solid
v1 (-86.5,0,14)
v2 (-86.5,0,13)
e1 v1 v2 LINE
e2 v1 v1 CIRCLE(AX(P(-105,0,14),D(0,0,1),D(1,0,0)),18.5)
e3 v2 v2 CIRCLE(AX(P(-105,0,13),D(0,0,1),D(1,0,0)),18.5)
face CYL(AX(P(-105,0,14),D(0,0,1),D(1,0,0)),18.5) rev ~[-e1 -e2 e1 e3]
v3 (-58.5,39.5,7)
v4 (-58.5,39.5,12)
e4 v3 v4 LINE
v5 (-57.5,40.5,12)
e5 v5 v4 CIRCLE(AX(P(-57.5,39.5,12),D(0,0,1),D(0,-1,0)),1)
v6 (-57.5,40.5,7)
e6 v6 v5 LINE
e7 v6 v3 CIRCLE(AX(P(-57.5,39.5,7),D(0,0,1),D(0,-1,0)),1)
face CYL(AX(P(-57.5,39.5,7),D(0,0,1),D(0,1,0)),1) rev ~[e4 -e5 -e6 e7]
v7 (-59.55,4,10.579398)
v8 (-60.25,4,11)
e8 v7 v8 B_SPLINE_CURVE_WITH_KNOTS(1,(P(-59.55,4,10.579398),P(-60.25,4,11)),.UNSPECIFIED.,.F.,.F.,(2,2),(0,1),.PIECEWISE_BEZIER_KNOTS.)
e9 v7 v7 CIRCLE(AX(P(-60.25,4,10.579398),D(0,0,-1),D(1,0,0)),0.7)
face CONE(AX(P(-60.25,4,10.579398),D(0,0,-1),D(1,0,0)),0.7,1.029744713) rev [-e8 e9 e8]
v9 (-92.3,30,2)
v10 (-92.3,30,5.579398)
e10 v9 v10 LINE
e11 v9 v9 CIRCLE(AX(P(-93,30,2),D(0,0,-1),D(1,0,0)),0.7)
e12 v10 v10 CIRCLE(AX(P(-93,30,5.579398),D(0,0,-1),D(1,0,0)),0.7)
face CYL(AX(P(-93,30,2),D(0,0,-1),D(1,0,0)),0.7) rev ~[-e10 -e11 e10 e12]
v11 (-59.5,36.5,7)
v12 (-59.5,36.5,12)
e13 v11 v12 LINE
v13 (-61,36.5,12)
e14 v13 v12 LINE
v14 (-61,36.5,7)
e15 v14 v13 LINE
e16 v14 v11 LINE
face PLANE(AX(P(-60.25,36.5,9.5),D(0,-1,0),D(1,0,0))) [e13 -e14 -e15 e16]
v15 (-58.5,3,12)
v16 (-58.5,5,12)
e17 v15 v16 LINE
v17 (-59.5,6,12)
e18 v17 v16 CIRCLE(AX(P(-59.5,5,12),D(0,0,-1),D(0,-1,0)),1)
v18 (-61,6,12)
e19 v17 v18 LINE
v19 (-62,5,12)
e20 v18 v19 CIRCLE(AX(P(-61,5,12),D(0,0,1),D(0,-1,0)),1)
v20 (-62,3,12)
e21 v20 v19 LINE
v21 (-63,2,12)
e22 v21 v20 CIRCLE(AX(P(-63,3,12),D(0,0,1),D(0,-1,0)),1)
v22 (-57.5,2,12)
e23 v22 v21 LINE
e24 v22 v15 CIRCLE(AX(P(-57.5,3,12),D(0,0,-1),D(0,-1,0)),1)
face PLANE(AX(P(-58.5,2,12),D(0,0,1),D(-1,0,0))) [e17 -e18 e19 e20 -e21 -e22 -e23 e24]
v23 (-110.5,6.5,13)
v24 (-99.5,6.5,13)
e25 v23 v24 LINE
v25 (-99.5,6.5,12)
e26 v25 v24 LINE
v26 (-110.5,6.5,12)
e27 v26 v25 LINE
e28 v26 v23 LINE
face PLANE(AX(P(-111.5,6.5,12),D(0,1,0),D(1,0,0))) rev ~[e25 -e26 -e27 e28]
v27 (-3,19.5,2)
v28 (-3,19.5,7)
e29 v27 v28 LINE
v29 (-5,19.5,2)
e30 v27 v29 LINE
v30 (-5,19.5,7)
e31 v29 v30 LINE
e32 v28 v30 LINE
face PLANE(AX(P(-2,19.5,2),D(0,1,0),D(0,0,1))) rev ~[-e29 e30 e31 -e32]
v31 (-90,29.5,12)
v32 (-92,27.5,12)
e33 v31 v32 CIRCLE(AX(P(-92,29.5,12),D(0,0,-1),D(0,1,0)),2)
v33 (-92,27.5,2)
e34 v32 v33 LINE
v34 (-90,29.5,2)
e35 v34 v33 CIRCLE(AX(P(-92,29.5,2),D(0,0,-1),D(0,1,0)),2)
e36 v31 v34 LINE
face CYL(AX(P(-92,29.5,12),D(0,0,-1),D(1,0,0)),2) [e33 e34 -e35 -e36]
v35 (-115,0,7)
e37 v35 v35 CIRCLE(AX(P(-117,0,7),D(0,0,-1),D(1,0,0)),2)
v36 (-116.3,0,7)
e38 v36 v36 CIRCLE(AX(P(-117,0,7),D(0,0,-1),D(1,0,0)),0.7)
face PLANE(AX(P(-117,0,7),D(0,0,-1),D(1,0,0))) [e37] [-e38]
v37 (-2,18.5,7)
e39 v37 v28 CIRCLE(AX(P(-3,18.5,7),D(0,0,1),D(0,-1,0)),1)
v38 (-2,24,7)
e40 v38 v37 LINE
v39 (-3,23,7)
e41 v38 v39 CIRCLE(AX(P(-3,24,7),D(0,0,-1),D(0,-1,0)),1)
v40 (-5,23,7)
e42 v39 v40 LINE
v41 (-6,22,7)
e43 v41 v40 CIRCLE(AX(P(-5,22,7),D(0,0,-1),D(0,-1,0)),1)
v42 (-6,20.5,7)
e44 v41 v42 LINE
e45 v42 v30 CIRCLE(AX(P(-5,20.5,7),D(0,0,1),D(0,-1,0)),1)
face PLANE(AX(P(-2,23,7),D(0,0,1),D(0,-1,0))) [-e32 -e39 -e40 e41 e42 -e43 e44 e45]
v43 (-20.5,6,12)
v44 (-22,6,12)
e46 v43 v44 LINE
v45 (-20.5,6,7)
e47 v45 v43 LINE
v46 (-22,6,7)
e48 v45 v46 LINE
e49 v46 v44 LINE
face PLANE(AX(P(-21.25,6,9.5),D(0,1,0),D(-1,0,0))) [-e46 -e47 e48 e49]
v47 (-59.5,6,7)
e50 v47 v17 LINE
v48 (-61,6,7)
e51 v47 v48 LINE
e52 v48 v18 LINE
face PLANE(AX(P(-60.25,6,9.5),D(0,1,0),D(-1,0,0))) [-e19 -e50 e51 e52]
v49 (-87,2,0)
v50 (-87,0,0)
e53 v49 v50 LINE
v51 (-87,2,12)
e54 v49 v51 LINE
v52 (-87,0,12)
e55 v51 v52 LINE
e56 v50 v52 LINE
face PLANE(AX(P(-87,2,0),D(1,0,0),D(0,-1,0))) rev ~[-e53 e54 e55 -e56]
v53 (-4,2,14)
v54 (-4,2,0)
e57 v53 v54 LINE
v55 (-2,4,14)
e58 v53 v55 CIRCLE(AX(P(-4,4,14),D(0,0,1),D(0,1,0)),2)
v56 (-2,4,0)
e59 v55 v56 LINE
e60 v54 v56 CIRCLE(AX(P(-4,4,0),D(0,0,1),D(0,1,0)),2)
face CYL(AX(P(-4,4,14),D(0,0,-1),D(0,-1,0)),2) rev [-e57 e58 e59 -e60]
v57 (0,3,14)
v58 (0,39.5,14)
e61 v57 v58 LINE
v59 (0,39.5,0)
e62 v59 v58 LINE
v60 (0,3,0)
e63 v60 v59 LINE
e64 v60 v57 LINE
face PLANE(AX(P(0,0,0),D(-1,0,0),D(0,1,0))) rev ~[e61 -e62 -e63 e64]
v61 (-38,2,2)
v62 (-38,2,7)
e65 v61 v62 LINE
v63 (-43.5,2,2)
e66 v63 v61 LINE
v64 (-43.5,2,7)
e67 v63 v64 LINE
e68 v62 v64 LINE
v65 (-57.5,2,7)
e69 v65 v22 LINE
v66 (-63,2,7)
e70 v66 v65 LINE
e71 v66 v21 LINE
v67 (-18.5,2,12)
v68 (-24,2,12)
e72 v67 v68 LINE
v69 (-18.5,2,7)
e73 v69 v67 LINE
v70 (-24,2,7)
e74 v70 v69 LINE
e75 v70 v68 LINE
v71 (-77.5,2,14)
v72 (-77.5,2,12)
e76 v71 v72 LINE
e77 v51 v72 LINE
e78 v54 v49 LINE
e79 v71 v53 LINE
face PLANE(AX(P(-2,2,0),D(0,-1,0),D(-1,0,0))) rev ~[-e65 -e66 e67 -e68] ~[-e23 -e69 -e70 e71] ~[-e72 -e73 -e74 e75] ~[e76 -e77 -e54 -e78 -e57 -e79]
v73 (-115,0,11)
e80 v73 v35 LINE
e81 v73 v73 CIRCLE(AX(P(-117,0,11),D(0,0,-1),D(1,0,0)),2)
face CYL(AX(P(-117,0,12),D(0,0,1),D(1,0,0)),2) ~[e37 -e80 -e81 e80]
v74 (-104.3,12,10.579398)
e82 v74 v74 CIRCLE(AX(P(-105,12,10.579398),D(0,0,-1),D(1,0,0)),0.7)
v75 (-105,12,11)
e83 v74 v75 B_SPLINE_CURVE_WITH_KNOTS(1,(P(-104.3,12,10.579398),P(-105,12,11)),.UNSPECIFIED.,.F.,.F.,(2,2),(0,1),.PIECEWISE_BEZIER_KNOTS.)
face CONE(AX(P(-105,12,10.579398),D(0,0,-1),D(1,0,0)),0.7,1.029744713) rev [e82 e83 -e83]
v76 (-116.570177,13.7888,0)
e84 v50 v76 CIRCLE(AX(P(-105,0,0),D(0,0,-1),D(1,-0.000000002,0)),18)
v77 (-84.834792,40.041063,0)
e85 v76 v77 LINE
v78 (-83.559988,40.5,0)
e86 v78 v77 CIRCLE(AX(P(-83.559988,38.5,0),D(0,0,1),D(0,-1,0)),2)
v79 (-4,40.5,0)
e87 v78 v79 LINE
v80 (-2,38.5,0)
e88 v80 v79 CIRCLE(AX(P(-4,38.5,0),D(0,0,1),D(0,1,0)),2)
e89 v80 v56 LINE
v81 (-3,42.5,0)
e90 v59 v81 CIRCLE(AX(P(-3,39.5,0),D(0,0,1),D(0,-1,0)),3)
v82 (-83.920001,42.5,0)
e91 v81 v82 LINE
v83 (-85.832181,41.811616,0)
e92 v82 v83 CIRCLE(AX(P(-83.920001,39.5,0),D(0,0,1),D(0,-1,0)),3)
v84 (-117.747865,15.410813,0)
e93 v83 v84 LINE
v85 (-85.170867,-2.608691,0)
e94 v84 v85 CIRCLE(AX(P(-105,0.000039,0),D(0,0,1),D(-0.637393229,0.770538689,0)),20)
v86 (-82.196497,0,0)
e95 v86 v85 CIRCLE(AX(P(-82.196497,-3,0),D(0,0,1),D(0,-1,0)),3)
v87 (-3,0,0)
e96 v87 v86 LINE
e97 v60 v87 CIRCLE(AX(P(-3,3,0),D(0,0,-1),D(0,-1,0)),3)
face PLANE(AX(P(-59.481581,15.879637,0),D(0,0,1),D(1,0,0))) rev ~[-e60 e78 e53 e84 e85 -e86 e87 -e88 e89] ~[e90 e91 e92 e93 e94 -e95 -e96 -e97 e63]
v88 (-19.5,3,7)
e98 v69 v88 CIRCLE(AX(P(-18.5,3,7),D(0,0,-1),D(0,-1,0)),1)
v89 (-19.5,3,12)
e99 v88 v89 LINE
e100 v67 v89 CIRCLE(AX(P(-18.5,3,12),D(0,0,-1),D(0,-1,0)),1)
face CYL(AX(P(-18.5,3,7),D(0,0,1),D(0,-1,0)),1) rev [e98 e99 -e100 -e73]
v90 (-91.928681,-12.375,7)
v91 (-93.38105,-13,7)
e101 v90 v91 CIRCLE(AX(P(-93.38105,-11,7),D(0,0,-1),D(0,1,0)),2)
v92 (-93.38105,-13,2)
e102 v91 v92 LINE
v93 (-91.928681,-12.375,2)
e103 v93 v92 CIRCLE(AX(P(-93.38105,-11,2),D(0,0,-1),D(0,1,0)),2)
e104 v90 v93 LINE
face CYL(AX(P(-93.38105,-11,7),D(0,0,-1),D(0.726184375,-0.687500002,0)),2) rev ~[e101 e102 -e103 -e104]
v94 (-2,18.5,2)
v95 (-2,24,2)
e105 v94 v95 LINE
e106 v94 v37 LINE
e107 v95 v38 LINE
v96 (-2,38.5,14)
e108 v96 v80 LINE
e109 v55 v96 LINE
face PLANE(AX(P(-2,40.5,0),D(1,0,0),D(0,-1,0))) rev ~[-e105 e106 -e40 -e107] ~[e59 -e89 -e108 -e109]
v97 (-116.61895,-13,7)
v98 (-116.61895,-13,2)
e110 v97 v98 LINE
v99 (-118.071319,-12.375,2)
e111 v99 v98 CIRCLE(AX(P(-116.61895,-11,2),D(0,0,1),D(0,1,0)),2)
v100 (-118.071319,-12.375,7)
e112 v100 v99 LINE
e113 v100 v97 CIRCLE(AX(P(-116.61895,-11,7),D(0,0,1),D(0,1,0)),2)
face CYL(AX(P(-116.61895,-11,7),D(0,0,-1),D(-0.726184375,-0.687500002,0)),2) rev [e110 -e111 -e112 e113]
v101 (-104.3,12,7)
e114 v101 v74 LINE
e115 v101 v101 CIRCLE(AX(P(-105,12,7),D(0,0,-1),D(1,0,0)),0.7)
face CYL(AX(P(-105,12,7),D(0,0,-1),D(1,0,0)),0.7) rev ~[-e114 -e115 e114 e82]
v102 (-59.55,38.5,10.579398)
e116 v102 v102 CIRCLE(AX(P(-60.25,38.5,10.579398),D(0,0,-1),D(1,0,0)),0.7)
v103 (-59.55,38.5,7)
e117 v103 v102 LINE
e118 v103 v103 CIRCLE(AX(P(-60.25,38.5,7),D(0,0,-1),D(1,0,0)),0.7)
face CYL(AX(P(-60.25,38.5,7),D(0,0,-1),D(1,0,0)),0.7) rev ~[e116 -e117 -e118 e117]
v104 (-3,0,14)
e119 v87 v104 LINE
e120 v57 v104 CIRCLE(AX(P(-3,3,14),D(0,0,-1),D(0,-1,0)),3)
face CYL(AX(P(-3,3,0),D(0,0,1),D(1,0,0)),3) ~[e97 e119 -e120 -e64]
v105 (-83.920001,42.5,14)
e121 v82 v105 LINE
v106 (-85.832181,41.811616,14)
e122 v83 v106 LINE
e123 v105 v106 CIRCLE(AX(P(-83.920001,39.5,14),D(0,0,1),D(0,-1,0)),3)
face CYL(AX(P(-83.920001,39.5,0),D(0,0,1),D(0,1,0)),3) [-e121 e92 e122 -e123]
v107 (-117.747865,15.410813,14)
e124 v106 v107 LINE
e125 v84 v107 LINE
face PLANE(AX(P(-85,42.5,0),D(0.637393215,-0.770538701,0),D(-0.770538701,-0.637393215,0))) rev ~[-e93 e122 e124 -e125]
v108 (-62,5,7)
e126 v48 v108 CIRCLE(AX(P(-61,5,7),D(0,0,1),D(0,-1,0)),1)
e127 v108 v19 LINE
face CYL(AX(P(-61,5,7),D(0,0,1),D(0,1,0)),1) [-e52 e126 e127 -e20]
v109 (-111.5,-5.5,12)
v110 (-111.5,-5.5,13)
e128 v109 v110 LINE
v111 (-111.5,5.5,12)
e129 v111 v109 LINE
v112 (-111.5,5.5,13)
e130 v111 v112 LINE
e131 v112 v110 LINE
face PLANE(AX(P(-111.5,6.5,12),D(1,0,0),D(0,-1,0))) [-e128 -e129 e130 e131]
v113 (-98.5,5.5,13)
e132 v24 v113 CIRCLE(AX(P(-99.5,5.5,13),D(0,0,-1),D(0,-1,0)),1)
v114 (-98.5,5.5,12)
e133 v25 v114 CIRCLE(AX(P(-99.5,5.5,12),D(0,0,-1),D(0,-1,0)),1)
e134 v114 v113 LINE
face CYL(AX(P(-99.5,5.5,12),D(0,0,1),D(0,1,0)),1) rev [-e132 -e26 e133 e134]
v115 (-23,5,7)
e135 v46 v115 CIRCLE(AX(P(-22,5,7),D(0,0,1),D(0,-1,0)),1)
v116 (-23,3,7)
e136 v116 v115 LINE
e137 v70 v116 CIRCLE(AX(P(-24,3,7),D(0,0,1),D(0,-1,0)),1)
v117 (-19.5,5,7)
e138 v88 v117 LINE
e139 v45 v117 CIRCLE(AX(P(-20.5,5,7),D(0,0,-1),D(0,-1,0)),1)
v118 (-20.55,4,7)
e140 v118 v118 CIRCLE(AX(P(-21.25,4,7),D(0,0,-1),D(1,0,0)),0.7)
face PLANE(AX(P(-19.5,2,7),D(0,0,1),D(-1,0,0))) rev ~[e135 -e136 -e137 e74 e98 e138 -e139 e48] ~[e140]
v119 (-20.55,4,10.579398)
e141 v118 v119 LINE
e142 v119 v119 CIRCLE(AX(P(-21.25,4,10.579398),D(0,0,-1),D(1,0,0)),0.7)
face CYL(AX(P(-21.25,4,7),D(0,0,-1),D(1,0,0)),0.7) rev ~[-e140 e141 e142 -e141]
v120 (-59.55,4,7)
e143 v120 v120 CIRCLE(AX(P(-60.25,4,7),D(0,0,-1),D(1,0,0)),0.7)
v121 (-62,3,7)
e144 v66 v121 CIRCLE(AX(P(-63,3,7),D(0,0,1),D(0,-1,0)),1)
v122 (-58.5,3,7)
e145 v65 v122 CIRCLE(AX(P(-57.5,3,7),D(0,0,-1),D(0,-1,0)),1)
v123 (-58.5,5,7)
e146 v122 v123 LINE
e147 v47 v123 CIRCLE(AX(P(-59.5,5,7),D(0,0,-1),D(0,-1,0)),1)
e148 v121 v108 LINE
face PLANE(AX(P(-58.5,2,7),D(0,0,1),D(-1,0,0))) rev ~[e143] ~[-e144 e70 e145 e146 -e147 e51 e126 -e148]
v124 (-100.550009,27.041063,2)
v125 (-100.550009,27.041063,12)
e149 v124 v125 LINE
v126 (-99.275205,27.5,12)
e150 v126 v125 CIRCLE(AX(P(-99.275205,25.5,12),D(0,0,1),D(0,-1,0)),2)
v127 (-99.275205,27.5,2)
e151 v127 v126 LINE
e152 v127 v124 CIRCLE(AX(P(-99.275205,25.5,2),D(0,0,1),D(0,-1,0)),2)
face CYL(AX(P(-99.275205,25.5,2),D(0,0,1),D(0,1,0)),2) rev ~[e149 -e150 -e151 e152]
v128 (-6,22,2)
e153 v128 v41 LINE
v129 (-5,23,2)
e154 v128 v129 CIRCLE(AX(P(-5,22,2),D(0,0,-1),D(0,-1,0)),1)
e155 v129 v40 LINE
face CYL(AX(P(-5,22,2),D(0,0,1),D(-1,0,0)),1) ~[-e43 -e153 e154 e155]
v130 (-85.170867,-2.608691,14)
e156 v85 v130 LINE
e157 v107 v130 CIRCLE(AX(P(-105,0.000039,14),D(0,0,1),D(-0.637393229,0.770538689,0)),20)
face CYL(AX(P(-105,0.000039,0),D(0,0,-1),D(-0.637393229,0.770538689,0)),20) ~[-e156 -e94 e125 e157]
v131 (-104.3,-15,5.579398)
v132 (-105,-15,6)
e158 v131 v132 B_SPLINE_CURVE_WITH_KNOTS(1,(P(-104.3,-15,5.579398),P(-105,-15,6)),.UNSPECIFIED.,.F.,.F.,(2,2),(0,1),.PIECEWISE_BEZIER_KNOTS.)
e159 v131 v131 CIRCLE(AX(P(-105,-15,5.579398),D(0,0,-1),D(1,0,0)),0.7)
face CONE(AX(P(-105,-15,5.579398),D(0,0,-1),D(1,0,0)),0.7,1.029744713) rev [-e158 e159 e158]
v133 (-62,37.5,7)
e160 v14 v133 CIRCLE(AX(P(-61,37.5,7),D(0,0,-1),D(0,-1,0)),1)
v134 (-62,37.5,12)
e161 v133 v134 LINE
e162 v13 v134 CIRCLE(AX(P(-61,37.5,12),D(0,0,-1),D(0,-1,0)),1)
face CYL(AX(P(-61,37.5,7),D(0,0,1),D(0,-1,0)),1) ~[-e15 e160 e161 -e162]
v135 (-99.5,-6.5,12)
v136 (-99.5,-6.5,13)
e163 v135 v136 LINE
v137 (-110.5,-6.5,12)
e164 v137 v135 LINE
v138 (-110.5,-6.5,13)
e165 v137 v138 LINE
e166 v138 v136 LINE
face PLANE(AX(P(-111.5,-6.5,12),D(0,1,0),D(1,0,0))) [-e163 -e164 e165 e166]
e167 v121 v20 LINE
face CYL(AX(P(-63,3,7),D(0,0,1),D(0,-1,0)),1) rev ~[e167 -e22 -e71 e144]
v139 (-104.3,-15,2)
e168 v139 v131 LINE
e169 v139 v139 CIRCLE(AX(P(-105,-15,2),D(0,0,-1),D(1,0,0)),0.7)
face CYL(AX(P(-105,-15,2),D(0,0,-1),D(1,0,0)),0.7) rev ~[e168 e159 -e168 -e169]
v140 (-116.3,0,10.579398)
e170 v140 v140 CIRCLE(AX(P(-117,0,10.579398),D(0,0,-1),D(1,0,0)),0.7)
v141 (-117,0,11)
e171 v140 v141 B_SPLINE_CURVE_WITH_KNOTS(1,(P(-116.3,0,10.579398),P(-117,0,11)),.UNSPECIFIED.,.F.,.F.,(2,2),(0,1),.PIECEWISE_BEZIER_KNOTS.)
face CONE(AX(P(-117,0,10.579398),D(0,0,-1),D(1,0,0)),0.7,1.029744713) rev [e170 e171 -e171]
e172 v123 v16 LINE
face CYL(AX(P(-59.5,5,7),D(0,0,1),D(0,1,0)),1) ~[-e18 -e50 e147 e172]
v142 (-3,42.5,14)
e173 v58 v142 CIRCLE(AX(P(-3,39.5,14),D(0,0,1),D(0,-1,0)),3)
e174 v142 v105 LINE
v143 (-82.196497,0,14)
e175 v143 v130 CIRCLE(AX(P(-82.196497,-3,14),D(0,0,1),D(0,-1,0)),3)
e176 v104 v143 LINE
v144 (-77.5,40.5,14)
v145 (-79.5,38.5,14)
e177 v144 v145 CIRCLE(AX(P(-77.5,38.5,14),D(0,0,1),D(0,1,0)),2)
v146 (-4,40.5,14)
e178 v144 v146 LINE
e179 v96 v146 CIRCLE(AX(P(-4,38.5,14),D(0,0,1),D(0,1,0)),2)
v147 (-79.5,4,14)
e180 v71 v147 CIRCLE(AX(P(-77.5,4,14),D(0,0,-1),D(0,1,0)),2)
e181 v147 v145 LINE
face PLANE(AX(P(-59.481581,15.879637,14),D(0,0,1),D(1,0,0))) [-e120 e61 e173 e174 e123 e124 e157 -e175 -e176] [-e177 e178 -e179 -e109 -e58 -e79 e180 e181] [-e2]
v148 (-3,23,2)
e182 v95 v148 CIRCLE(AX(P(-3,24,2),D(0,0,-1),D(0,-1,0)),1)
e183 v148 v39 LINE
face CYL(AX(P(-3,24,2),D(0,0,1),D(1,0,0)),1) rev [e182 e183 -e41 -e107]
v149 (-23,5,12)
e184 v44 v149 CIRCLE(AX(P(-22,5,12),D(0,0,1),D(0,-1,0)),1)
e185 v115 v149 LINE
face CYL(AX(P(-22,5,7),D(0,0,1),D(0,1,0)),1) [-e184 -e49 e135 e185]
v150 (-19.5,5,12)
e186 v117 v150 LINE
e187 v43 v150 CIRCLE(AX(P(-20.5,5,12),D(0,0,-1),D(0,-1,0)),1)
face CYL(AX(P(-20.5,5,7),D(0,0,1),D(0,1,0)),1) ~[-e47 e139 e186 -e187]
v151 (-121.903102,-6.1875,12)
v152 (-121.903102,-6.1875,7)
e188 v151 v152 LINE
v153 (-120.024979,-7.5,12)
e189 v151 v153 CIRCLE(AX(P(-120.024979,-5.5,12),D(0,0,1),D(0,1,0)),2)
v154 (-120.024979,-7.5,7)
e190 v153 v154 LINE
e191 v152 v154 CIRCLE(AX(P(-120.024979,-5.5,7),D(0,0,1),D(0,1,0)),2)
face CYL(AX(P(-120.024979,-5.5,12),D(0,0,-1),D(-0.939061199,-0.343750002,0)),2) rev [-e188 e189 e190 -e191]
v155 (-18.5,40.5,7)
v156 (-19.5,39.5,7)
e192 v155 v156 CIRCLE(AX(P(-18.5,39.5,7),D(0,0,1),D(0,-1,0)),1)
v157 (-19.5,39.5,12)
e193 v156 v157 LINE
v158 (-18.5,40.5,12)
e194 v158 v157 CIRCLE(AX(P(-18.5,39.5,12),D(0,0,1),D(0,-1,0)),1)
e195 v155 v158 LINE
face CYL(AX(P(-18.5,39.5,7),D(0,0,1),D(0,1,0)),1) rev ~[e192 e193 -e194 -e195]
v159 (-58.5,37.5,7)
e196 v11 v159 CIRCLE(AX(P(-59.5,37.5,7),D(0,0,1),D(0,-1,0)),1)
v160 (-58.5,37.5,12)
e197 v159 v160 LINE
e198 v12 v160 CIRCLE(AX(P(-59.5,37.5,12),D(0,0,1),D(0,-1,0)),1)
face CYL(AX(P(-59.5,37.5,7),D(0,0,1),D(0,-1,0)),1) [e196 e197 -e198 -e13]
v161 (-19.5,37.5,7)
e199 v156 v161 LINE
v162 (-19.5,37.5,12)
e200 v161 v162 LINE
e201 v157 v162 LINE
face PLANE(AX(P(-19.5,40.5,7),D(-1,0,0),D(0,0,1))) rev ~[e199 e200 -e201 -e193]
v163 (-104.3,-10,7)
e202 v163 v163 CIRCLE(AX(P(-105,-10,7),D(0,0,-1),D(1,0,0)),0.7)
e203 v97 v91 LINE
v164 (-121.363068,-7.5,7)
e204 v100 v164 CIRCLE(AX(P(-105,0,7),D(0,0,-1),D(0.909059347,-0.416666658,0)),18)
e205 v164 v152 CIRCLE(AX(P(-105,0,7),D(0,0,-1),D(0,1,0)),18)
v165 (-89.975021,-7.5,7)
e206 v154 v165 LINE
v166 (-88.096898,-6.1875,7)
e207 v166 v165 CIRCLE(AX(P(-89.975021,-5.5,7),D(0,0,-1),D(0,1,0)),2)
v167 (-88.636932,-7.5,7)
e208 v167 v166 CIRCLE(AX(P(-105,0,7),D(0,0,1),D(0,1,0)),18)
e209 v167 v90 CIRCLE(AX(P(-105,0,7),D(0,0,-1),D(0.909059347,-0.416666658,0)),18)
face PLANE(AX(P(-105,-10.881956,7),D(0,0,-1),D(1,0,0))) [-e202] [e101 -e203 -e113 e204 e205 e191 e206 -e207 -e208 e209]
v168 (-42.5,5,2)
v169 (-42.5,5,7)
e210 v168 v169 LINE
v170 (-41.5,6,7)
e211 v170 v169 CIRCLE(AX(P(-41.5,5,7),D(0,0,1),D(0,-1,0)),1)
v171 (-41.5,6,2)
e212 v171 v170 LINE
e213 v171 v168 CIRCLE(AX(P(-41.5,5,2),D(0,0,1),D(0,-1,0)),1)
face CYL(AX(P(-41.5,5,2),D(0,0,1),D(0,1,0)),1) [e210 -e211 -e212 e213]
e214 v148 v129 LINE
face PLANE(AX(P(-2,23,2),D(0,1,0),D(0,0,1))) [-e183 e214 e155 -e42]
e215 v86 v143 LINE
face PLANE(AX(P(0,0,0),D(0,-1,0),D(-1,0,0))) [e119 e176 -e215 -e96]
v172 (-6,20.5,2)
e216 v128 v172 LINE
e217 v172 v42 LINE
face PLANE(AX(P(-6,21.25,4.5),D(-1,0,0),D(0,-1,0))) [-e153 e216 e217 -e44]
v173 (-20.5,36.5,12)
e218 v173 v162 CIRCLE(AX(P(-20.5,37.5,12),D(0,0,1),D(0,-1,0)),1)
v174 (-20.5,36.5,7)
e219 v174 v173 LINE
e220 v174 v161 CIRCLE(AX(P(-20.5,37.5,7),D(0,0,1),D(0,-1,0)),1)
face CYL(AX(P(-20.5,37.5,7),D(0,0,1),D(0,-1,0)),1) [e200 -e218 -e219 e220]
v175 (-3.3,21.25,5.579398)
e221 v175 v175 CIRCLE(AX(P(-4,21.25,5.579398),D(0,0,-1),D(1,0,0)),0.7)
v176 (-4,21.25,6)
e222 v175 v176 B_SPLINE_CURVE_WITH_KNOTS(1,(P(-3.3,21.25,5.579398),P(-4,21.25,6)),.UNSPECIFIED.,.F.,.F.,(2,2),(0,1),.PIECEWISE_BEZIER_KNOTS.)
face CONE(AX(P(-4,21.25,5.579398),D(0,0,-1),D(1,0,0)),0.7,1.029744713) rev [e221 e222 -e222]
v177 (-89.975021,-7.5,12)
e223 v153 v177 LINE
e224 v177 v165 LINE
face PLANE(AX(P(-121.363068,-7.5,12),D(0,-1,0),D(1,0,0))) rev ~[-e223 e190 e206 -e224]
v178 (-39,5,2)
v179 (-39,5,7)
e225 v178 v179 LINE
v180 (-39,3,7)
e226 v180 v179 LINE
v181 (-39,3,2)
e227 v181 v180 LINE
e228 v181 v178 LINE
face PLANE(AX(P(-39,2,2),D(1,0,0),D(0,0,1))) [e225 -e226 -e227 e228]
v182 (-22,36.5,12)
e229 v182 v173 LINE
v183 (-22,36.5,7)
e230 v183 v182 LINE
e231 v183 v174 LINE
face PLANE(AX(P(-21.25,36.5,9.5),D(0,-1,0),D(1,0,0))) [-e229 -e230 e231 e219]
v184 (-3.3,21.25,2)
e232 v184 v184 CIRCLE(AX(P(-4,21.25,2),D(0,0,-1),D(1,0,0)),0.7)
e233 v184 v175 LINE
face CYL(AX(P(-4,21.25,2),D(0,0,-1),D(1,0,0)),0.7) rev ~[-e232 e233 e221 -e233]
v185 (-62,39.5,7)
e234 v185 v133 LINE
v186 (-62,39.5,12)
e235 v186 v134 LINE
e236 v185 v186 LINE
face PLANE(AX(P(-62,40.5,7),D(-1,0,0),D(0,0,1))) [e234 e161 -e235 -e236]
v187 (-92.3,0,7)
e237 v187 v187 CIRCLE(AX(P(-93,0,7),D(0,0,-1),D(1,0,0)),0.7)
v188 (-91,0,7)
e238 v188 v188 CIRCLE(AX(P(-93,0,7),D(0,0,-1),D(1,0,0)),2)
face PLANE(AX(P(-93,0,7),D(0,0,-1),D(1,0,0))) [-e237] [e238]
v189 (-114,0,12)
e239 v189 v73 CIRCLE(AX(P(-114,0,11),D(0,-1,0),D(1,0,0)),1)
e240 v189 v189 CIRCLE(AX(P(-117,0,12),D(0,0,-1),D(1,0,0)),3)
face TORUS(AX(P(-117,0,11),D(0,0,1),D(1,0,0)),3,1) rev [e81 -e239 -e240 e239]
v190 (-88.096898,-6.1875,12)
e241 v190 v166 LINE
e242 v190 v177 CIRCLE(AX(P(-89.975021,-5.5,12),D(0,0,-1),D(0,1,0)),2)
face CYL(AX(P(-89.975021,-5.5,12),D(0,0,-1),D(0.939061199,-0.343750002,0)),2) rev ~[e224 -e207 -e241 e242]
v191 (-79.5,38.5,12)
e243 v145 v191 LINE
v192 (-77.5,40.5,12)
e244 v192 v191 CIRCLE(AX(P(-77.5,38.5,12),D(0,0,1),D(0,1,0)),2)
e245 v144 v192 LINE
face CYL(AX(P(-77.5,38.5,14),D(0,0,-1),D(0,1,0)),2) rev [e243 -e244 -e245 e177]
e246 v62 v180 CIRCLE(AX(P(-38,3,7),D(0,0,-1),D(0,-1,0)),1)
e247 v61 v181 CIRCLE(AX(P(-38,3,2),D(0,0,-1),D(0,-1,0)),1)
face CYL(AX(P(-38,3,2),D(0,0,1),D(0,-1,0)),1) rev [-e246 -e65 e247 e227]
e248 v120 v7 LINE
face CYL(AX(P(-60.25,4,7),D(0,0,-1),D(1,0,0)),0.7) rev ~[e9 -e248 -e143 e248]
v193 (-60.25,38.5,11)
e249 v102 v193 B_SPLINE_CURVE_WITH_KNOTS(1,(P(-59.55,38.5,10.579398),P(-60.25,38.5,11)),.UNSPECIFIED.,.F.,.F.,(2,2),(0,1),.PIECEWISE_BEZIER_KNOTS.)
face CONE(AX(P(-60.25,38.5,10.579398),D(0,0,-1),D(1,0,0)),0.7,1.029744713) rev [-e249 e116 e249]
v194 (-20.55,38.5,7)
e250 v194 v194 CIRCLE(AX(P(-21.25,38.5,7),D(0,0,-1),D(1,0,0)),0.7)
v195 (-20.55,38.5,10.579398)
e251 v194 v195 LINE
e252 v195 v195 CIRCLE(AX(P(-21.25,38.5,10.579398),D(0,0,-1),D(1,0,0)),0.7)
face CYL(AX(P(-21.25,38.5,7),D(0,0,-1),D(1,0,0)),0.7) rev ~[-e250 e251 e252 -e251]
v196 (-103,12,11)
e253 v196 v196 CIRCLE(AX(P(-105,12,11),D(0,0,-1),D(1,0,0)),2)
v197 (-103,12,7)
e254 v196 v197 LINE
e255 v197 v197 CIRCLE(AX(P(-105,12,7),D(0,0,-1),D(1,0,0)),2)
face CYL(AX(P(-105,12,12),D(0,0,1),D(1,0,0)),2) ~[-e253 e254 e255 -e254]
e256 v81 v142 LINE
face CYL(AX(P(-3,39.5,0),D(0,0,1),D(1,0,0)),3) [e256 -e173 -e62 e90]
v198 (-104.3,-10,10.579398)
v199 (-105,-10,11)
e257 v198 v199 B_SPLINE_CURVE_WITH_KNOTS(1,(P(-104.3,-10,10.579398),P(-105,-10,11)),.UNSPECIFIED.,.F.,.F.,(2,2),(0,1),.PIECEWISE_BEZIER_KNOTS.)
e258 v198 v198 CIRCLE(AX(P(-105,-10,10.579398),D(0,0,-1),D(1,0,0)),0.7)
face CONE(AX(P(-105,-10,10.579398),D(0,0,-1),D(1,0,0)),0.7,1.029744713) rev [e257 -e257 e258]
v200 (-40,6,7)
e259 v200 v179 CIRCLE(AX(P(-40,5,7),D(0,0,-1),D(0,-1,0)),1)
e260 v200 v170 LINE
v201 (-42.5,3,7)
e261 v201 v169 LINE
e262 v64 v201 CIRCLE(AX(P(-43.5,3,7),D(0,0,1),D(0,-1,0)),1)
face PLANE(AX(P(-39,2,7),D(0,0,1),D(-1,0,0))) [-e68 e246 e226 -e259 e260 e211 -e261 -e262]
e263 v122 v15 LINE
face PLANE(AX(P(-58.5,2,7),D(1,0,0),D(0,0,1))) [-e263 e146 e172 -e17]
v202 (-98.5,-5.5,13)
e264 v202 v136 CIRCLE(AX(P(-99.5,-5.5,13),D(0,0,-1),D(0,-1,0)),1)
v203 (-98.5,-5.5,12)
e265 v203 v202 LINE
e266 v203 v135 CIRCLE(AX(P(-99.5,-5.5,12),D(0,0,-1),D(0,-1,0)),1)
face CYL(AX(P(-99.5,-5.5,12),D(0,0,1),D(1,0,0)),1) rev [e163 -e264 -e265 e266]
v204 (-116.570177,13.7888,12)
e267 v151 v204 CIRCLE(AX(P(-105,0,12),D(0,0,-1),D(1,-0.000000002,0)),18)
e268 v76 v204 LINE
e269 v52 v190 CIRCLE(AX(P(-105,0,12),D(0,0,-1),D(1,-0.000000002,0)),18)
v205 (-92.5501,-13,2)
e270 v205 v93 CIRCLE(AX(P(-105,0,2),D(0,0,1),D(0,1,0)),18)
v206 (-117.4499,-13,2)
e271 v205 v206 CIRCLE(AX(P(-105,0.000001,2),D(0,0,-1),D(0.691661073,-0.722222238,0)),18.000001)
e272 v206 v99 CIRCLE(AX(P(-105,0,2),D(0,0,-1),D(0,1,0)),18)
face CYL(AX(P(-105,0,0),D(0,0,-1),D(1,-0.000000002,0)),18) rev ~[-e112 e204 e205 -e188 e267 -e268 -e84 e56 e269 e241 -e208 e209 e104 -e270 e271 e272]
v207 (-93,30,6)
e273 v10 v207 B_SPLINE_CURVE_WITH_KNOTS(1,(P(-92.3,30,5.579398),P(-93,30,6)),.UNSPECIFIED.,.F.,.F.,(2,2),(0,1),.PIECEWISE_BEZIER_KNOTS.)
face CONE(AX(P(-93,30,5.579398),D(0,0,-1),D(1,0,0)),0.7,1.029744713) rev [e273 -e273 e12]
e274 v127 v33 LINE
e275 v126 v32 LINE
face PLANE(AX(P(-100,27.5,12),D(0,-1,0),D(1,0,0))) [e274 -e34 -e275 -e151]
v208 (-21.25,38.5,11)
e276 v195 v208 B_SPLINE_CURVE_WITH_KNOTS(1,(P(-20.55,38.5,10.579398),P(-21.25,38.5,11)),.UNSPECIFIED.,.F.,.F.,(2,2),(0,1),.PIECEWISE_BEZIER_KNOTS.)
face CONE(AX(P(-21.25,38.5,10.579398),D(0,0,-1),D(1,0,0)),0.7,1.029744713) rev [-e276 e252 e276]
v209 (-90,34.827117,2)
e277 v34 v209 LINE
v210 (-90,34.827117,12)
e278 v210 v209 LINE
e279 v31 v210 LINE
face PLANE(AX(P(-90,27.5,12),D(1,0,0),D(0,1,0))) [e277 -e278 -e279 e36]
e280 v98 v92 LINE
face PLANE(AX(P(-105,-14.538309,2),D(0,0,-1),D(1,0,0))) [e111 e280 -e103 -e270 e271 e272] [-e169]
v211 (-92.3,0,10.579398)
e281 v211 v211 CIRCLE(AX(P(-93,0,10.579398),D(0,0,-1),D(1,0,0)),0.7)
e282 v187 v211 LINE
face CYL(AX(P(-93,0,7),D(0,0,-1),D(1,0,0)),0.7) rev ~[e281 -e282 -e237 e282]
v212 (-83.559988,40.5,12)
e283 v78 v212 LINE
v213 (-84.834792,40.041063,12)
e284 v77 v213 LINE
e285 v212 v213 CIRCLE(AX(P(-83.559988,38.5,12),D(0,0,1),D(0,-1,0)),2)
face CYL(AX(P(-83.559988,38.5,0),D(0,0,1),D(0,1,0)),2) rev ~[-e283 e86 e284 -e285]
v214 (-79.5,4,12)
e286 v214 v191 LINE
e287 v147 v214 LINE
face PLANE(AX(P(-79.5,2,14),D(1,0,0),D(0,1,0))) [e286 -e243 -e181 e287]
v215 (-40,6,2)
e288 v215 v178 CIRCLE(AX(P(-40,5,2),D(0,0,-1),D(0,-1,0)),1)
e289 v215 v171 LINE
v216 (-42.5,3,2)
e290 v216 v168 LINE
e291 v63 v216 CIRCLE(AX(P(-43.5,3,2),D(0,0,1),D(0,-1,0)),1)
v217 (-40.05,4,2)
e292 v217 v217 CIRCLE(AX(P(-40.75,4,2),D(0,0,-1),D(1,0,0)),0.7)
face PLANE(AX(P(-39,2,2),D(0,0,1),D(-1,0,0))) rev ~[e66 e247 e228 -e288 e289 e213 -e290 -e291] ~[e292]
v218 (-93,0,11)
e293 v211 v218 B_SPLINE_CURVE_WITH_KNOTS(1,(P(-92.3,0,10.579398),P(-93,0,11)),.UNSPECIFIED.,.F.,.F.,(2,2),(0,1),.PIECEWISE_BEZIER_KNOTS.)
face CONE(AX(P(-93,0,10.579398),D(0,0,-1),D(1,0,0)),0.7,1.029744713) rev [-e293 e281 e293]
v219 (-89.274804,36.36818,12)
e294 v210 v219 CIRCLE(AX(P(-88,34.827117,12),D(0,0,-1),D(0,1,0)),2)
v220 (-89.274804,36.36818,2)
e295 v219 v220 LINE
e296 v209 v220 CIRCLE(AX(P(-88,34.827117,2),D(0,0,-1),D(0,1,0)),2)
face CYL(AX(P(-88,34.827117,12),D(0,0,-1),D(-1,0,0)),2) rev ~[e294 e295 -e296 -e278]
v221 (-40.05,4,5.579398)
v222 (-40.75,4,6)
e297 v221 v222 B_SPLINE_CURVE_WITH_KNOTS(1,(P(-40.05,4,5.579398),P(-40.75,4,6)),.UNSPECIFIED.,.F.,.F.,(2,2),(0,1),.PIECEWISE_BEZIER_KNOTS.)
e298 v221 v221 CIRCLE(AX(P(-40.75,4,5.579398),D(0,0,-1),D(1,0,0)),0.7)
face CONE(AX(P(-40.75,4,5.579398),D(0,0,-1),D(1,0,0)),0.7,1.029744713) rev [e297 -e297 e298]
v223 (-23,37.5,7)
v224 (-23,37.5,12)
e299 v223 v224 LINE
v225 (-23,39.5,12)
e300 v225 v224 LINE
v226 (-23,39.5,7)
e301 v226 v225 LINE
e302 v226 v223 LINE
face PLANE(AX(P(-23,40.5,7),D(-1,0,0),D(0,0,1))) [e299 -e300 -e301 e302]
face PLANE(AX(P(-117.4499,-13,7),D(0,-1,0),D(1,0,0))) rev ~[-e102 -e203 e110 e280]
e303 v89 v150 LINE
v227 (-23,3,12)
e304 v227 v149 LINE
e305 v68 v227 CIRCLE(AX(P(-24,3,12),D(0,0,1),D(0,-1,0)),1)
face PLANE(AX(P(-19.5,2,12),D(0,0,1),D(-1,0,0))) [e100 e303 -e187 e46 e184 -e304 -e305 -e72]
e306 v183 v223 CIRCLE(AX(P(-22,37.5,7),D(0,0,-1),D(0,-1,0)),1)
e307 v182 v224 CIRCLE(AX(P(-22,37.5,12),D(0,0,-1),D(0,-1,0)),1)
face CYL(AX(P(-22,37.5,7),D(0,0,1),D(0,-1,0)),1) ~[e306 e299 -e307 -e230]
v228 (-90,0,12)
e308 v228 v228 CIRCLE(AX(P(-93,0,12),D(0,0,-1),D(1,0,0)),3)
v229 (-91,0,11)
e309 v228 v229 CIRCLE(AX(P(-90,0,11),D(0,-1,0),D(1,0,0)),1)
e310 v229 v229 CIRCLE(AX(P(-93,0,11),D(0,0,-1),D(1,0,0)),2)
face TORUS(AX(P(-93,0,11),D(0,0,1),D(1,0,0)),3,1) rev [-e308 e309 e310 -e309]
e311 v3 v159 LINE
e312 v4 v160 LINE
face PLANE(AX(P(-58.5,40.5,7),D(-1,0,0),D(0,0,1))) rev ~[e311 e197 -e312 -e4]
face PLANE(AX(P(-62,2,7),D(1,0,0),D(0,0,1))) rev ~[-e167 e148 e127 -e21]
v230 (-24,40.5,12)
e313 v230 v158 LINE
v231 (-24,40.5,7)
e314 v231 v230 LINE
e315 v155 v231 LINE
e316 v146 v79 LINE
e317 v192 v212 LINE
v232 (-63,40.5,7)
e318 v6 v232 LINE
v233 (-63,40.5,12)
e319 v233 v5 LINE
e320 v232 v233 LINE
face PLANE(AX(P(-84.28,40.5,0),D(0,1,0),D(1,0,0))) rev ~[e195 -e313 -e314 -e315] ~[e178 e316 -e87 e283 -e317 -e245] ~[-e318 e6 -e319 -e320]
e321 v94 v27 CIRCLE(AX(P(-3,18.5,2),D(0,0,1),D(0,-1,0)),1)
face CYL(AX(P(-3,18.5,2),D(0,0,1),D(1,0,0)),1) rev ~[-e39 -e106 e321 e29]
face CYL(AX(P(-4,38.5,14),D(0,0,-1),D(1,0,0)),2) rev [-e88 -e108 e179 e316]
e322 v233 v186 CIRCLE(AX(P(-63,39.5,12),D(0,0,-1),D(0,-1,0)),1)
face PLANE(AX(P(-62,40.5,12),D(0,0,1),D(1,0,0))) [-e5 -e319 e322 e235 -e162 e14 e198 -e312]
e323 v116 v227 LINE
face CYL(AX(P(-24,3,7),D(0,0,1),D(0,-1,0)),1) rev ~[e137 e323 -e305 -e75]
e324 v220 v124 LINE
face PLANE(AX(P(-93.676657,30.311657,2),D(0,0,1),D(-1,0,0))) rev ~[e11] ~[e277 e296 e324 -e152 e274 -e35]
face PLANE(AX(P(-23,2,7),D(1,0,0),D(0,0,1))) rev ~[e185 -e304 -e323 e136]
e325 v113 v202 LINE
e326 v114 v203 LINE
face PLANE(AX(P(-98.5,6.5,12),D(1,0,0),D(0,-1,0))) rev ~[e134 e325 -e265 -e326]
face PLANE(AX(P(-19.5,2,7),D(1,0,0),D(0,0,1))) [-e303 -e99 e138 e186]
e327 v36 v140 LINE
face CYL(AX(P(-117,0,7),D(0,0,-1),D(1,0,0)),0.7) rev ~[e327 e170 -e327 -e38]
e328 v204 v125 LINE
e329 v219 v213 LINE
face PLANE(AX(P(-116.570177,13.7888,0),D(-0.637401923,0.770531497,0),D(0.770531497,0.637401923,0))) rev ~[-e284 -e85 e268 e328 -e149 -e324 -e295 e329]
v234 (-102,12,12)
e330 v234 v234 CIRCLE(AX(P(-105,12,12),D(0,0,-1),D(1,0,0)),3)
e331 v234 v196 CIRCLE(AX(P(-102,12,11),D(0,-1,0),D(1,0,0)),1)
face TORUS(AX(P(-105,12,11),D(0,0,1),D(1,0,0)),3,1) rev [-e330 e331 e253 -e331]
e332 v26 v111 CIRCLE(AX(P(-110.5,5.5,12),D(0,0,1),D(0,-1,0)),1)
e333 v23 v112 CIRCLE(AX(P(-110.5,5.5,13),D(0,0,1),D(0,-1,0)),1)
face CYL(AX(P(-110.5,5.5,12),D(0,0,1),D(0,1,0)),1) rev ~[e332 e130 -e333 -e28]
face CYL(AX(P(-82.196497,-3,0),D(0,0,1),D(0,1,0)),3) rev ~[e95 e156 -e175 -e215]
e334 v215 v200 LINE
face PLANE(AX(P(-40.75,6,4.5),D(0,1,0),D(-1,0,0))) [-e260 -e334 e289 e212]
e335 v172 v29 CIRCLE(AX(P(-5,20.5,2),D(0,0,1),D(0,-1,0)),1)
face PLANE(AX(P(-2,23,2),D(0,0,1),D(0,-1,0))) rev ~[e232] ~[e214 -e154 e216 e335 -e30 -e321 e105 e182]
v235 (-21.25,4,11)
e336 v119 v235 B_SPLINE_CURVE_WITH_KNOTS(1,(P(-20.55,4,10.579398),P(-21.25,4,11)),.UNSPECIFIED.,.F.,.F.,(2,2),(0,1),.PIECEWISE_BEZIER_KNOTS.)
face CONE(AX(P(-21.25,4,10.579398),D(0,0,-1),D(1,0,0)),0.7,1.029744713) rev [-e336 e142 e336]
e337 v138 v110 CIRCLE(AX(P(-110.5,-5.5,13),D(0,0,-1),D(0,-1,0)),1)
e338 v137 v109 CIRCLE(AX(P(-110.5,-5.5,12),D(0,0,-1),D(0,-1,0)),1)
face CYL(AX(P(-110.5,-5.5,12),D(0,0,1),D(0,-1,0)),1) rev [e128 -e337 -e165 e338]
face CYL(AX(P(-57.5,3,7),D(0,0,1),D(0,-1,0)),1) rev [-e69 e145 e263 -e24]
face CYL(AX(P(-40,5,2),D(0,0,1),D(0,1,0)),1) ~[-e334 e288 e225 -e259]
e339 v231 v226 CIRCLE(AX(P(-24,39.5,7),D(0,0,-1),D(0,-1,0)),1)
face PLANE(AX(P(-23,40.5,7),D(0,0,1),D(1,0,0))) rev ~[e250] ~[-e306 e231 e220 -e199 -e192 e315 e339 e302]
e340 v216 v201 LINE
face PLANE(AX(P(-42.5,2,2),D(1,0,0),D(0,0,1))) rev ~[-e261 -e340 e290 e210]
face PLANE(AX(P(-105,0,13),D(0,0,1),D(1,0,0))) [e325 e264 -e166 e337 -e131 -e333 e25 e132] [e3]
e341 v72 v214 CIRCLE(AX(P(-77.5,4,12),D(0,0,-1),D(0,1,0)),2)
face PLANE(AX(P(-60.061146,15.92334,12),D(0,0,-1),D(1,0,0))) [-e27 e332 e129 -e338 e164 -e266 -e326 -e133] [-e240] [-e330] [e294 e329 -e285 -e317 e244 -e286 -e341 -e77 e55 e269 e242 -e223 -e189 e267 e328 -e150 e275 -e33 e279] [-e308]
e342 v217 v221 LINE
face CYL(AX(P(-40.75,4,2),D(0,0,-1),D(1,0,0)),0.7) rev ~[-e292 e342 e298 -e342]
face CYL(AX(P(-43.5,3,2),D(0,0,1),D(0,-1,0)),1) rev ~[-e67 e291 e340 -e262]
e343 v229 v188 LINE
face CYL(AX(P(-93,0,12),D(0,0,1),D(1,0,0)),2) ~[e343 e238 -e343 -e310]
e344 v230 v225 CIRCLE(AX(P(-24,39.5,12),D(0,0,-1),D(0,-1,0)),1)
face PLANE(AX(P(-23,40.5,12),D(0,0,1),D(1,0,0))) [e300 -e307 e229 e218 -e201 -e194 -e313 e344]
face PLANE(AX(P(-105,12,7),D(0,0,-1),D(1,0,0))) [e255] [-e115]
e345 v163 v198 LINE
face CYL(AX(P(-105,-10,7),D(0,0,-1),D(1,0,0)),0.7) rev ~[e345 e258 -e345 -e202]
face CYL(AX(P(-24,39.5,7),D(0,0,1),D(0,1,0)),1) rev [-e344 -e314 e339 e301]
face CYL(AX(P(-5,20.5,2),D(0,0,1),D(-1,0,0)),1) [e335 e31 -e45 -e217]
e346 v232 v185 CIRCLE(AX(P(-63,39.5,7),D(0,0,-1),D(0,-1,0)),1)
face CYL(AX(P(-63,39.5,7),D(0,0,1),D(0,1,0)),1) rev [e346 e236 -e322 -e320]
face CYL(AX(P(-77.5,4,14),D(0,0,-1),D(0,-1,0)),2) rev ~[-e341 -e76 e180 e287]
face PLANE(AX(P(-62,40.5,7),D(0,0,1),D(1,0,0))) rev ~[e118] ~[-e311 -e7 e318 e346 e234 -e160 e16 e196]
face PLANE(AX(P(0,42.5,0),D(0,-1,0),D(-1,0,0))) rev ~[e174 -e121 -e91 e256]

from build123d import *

# Parameters (mm, degrees)
PAD_DEPTH       = 14
POCKET_DEPTH    = 12
SKETCH020_W     = 77.5
SKETCH020_H     = 38.5
POCKET010_DEPTH = 2
SKETCH021_W     = 3.5
SKETCH021_H     = 5
PAD004_DEPTH    = 4
SKETCH022_W     = 3.5
SKETCH022_H     = 5
PAD005_DEPTH    = 4
SKETCH023_W     = 3.5
SKETCH023_H     = 5
PAD006_DEPTH    = 4
SKETCH024_R     = 2
PAD007_DEPTH    = 5
PAD008_DEPTH    = 5
PAD009_DEPTH    = 10
SKETCH027_W     = 13
SKETCH027_H     = 13
POCKET011_DEPTH = 2
SKETCH028_R     = 0.7
HOLE_DEPTH      = 3.579398
HOLE_TIPS_R     = 0.7
SKETCH029_R     = 0.7
HOLE001_DEPTH   = 3.579398
HOLE001_TIPS_R  = 0.7
SKETCH030_R     = 18.5
POCKET012_DEPTH = 1
FILLET_R        = 3
FILLET001_R     = 2
FILLET002_R     = 1
FILLET003_R     = 2
FILLET004_R     = 1
FILLET005_R     = 1


with BuildPart() as part:
    # Sketch → Pad (new body)
    with BuildSketch(Plane.XY):
        with BuildLine():
            Line((0, 0), (0, 42.5))
            Line((0, 42.5), (-85, 42.5))
            Line((-85, 42.5), (-117.747865, 15.410813))
            ThreePointArc((-117.747865, 15.410813), (-113.515965, -18.096324), (-85, 0))
            Line((0, 0), (-85, 0))
        make_face()
    extrude(amount=PAD_DEPTH)

    # Sketch019 (on Face6 of Pad) → Pocket (cut)
    with BuildSketch(Plane(origin=(0, 0, 0), x_dir=(1, 0, 0), z_dir=(0, 0, -1))):
        with BuildLine():
            Line((-116.570177, -13.7888), (-84.28, -40.5))
            Line((-84.28, -40.5), (-2, -40.5))
            Line((-2, -40.5), (-2, -2))
            Line((-2, -2), (-87, -2))
            Line((-87, -2), (-87, 0))
            ThreePointArc((-87, 0), (-112.607129, 16.31354), (-116.570177, -13.7888))
        make_face()
    extrude(amount=-POCKET_DEPTH, mode=Mode.SUBTRACT)

    # Sketch020 (on Face5 of Pocket) → Pocket010 (cut)
    with BuildSketch(Plane.XY.offset(14)):
        with Locations((-40.75, 21.25)):
            Rectangle(SKETCH020_W, SKETCH020_H)
    extrude(amount=-POCKET010_DEPTH, mode=Mode.SUBTRACT)

    # Sketch021 (on Face12 of Pocket010) → Pad004 (join)
    with BuildSketch(Plane.XZ.offset(-40.5)):
        with Locations((-21.25, 9.5)):
            Rectangle(SKETCH021_W, SKETCH021_H)
        with Locations((-60.25, 9.5)):
            Rectangle(SKETCH021_W, SKETCH021_H)
    extrude(amount=PAD004_DEPTH)

    # Sketch022 (on Face10 of Pad004) → Pad005 (join)
    with BuildSketch(Plane(origin=(0, 2, 0), x_dir=(-1, 0, 0), z_dir=(0, 1, 0))):
        with Locations((21.25, 9.5)):
            Rectangle(SKETCH022_W, SKETCH022_H)
        with Locations((60.25, 9.5)):
            Rectangle(SKETCH022_W, SKETCH022_H)
        with Locations((40.75, 4.5)):
            Rectangle(SKETCH022_W, SKETCH022_H)
    extrude(amount=PAD005_DEPTH)

    # Sketch023 (on Face11 of Pad005) → Pad006 (join)
    with BuildSketch(Plane(origin=(-2, 0, 0), x_dir=(0, -1, 0), z_dir=(-1, 0, 0))):
        with Locations((-21.25, 4.5)):
            Rectangle(SKETCH023_W, SKETCH023_H)
    extrude(amount=PAD006_DEPTH)

    # Sketch024 (on Face18 of Pad006) → Pad007 (join)
    with BuildSketch(Plane(origin=(0, 0, 12), x_dir=(1, 0, 0), z_dir=(0, 0, -1))):
        with Locations((-93, 0)):
            Circle(SKETCH024_R)
        with Locations((-117, 0)):
            Circle(SKETCH024_R)
        with Locations((-105, -12)):
            Circle(SKETCH024_R)
        with BuildLine():
            ThreePointArc((-88.636932, 7.5), (-105, 18), (-121.363068, 7.5))
            Line((-121.363068, 7.5), (-88.636932, 7.5))
        make_face()
    extrude(amount=PAD007_DEPTH)

    # Sketch025 (on Face20 of Pad007) → Pad008 (join)
    with BuildSketch(Plane(origin=(0, 0, 7), x_dir=(1, 0, 0), z_dir=(0, 0, -1))):
        with BuildLine():
            ThreePointArc((-92.5501, 13), (-105, 18), (-117.4499, 13))
            Line((-117.4499, 13), (-92.5501, 13))
        make_face()
    extrude(amount=PAD008_DEPTH)

    # Sketch026 (on Face18 of Pad008) → Pad009 (join)
    with BuildSketch(Plane(origin=(0, 0, 12), x_dir=(1, 0, 0), z_dir=(0, 0, -1))):
        Polygon((-100, -27.5), (-90, -27.5), (-90, -35.77), align=None)
    extrude(amount=PAD009_DEPTH)

    # Sketch027 (on Face18 of Pad009) → Pocket011 (cut)
    with BuildSketch(Plane(origin=(0, 0, 12), x_dir=(1, 0, 0), z_dir=(0, 0, -1))):
        with Locations((-105, 0)):
            Rectangle(SKETCH027_W, SKETCH027_H)
    extrude(amount=-POCKET011_DEPTH, mode=Mode.SUBTRACT)

    # Sketch028 (on Face42 of Pocket011) → Hole (cut)
    with BuildSketch(Plane(origin=(0, 0, 7), x_dir=(1, 0, 0), z_dir=(0, 0, -1))):
        with Locations((-60.25, -4)):
            Circle(SKETCH028_R)
        with Locations((-21.25, -4)):
            Circle(SKETCH028_R)
        with Locations((-21.25, -38.5)):
            Circle(SKETCH028_R)
        with Locations((-60.25, -38.5)):
            Circle(SKETCH028_R)
        with Locations((-105, -12)):
            Circle(SKETCH028_R)
        with Locations((-93, 0)):
            Circle(SKETCH028_R)
        with Locations((-117, 0)):
            Circle(SKETCH028_R)
        with Locations((-105, 10)):
            Circle(SKETCH028_R)
    extrude(amount=-HOLE_DEPTH, mode=Mode.SUBTRACT)

    # Hole tips → Hole tip 1 section 0
    with BuildSketch(Plane(origin=(0, 0, 10.579398), x_dir=(1, 0, 0), z_dir=(0, 0, -1)), mode=Mode.PRIVATE) as hole_tip_1_s0:
        with Locations((-60.25, -4)):
            Circle(HOLE_TIPS_R)
    loft([hole_tip_1_s0.sketch, Vertex(-60.25, 4, 11)], mode=Mode.SUBTRACT)

    # Hole tips → Hole tip 2 section 0
    with BuildSketch(Plane(origin=(0, 0, 10.579398), x_dir=(1, 0, 0), z_dir=(0, 0, -1)), mode=Mode.PRIVATE) as hole_tip_2_s0:
        with Locations((-21.25, -4)):
            Circle(HOLE_TIPS_R)
    loft([hole_tip_2_s0.sketch, Vertex(-21.25, 4, 11)], mode=Mode.SUBTRACT)

    # Hole tips → Hole tip 3 section 0
    with BuildSketch(Plane(origin=(0, 0, 10.579398), x_dir=(1, 0, 0), z_dir=(0, 0, -1)), mode=Mode.PRIVATE) as hole_tip_3_s0:
        with Locations((-21.25, -38.5)):
            Circle(HOLE_TIPS_R)
    loft([hole_tip_3_s0.sketch, Vertex(-21.25, 38.5, 11)], mode=Mode.SUBTRACT)

    # Hole tips → Hole tip 4 section 0
    with BuildSketch(Plane(origin=(0, 0, 10.579398), x_dir=(1, 0, 0), z_dir=(0, 0, -1)), mode=Mode.PRIVATE) as hole_tip_4_s0:
        with Locations((-60.25, -38.5)):
            Circle(HOLE_TIPS_R)
    loft([hole_tip_4_s0.sketch, Vertex(-60.25, 38.5, 11)], mode=Mode.SUBTRACT)

    # Hole tips → Hole tip 5 section 0
    with BuildSketch(Plane(origin=(0, 0, 10.579398), x_dir=(1, 0, 0), z_dir=(0, 0, -1)), mode=Mode.PRIVATE) as hole_tip_5_s0:
        with Locations((-105, -12)):
            Circle(HOLE_TIPS_R)
    loft([hole_tip_5_s0.sketch, Vertex(-105, 12, 11)], mode=Mode.SUBTRACT)

    # Hole tips → Hole tip 6 section 0
    with BuildSketch(Plane(origin=(0, 0, 10.579398), x_dir=(1, 0, 0), z_dir=(0, 0, -1)), mode=Mode.PRIVATE) as hole_tip_6_s0:
        with Locations((-93, 0)):
            Circle(HOLE_TIPS_R)
    loft([hole_tip_6_s0.sketch, Vertex(-93, 0, 11)], mode=Mode.SUBTRACT)

    # Hole tips → Hole tip 7 section 0
    with BuildSketch(Plane(origin=(0, 0, 10.579398), x_dir=(1, 0, 0), z_dir=(0, 0, -1)), mode=Mode.PRIVATE) as hole_tip_7_s0:
        with Locations((-117, 0)):
            Circle(HOLE_TIPS_R)
    loft([hole_tip_7_s0.sketch, Vertex(-117, 0, 11)], mode=Mode.SUBTRACT)

    # Hole tips → Hole tip 8 section 0
    with BuildSketch(Plane(origin=(0, 0, 10.579398), x_dir=(1, 0, 0), z_dir=(0, 0, -1)), mode=Mode.PRIVATE) as hole_tip_8_s0:
        with Locations((-105, 10)):
            Circle(HOLE_TIPS_R)
    loft([hole_tip_8_s0.sketch, Vertex(-105, -10, 11)], mode=Mode.SUBTRACT)

    # Sketch029 (on Face48 of Hole) → Hole001 (cut)
    with BuildSketch(Plane(origin=(0, 0, 2), x_dir=(1, 0, 0), z_dir=(0, 0, -1))):
        with Locations((-105, 15)):
            Circle(SKETCH029_R)
        with Locations((-93, -30)):
            Circle(SKETCH029_R)
        with Locations((-40.75, -4)):
            Circle(SKETCH029_R)
        with Locations((-4, -21.25)):
            Circle(SKETCH029_R)
    extrude(amount=-HOLE001_DEPTH, mode=Mode.SUBTRACT)

    # Hole001 tips → Hole001 tip 1 section 0
    with BuildSketch(Plane(origin=(0, 0, 5.579398), x_dir=(1, 0, 0), z_dir=(0, 0, -1)), mode=Mode.PRIVATE) as hole001_tip_1_s0:
        with Locations((-105, 15)):
            Circle(HOLE001_TIPS_R)
    loft([hole001_tip_1_s0.sketch, Vertex(-105, -15, 6)], mode=Mode.SUBTRACT)

    # Hole001 tips → Hole001 tip 2 section 0
    with BuildSketch(Plane(origin=(0, 0, 5.579398), x_dir=(1, 0, 0), z_dir=(0, 0, -1)), mode=Mode.PRIVATE) as hole001_tip_2_s0:
        with Locations((-93, -30)):
            Circle(HOLE001_TIPS_R)
    loft([hole001_tip_2_s0.sketch, Vertex(-93, 30, 6)], mode=Mode.SUBTRACT)

    # Hole001 tips → Hole001 tip 3 section 0
    with BuildSketch(Plane(origin=(0, 0, 5.579398), x_dir=(1, 0, 0), z_dir=(0, 0, -1)), mode=Mode.PRIVATE) as hole001_tip_3_s0:
        with Locations((-40.75, -4)):
            Circle(HOLE001_TIPS_R)
    loft([hole001_tip_3_s0.sketch, Vertex(-40.75, 4, 6)], mode=Mode.SUBTRACT)

    # Hole001 tips → Hole001 tip 4 section 0
    with BuildSketch(Plane(origin=(0, 0, 5.579398), x_dir=(1, 0, 0), z_dir=(0, 0, -1)), mode=Mode.PRIVATE) as hole001_tip_4_s0:
        with Locations((-4, -21.25)):
            Circle(HOLE001_TIPS_R)
    loft([hole001_tip_4_s0.sketch, Vertex(-4, 21.25, 6)], mode=Mode.SUBTRACT)

    # Sketch030 (on Face5 of Hole001) → Pocket012 (cut)
    with BuildSketch(Plane.XY.offset(14)):
        with Locations((-105, 0)):
            Circle(SKETCH030_R)
    extrude(amount=-POCKET012_DEPTH, mode=Mode.SUBTRACT)

    # Fillet
    fillet_edges = [part.edges().sort_by_distance(p)[0] for p in [
        (0, 0, 7),
        (0, 42.5, 7),
        (-85, 42.5, 7),
        (-85, 0, 7),
    ]]
    fillet(fillet_edges, radius=FILLET_R)

    # Fillet001
    fillet001_edges = [part.edges().sort_by_distance(p)[0] for p in [
        (-2, 40.5, 13),
        (-2, 2, 13),
        (-79.5, 40.5, 13),
        (-79.5, 2, 13),
    ]]
    fillet(fillet001_edges, radius=FILLET001_R)

    # Fillet002
    fillet002_edges = [part.edges().sort_by_distance(p)[0] for p in [
        (-62, 2, 9.5),
        (-62, 6, 9.5),
        (-58.5, 6, 9.5),
        (-58.5, 2, 9.5),
        (-42.5, 2, 4.5),
        (-42.5, 6, 4.5),
        (-39, 6, 4.5),
        (-39, 2, 4.5),
        (-23, 6, 9.5),
        (-19.5, 6, 9.5),
        (-19.5, 2, 9.5),
        (-23, 2, 9.5),
        (-19.5, 40.5, 9.5),
        (-19.5, 36.5, 9.5),
        (-23, 36.5, 9.5),
        (-62, 36.5, 9.5),
        (-58.5, 36.5, 9.5),
        (-58.5, 40.5, 9.5),
        (-62, 40.5, 9.5),
        (-23, 40.5, 9.5),
        (-6, 19.5, 4.5),
        (-6, 23, 4.5),
        (-2, 19.5, 4.5),
        (-2, 23, 4.5),
    ]]
    fillet(fillet002_edges, radius=FILLET002_R)

    # Fillet003
    fillet003_edges = [part.edges().sort_by_distance(p)[0] for p in [
        (-88.636932, -7.5, 9.5),
        (-121.363068, -7.5, 9.5),
        (-92.5501, -13, 4.5),
        (-117.4499, -13, 4.5),
        (-84.28, 40.5, 6),
        (-99.995217, 27.5, 7),
        (-90, 35.76828, 7),
        (-90, 27.5, 7),
    ]]
    fillet(fillet003_edges, radius=FILLET003_R)

    # Fillet004
    fillet004_edges = [part.edges().sort_by_distance(p)[0] for p in [
        (-111.5, 6.5, 12.5),
        (-98.5, -6.5, 12.5),
        (-111.5, -6.5, 12.5),
        (-98.5, 6.5, 12.5),
    ]]
    fillet(fillet004_edges, radius=FILLET004_R)

    # Fillet005
    fillet005_edges = [part.edges().sort_by_distance(p)[0] for p in [
        (-119, 0, 12),
        (-107, 12, 12),
        (-95, 0, 12),
    ]]
    fillet(fillet005_edges, radius=FILLET005_R)


solid = part.part
